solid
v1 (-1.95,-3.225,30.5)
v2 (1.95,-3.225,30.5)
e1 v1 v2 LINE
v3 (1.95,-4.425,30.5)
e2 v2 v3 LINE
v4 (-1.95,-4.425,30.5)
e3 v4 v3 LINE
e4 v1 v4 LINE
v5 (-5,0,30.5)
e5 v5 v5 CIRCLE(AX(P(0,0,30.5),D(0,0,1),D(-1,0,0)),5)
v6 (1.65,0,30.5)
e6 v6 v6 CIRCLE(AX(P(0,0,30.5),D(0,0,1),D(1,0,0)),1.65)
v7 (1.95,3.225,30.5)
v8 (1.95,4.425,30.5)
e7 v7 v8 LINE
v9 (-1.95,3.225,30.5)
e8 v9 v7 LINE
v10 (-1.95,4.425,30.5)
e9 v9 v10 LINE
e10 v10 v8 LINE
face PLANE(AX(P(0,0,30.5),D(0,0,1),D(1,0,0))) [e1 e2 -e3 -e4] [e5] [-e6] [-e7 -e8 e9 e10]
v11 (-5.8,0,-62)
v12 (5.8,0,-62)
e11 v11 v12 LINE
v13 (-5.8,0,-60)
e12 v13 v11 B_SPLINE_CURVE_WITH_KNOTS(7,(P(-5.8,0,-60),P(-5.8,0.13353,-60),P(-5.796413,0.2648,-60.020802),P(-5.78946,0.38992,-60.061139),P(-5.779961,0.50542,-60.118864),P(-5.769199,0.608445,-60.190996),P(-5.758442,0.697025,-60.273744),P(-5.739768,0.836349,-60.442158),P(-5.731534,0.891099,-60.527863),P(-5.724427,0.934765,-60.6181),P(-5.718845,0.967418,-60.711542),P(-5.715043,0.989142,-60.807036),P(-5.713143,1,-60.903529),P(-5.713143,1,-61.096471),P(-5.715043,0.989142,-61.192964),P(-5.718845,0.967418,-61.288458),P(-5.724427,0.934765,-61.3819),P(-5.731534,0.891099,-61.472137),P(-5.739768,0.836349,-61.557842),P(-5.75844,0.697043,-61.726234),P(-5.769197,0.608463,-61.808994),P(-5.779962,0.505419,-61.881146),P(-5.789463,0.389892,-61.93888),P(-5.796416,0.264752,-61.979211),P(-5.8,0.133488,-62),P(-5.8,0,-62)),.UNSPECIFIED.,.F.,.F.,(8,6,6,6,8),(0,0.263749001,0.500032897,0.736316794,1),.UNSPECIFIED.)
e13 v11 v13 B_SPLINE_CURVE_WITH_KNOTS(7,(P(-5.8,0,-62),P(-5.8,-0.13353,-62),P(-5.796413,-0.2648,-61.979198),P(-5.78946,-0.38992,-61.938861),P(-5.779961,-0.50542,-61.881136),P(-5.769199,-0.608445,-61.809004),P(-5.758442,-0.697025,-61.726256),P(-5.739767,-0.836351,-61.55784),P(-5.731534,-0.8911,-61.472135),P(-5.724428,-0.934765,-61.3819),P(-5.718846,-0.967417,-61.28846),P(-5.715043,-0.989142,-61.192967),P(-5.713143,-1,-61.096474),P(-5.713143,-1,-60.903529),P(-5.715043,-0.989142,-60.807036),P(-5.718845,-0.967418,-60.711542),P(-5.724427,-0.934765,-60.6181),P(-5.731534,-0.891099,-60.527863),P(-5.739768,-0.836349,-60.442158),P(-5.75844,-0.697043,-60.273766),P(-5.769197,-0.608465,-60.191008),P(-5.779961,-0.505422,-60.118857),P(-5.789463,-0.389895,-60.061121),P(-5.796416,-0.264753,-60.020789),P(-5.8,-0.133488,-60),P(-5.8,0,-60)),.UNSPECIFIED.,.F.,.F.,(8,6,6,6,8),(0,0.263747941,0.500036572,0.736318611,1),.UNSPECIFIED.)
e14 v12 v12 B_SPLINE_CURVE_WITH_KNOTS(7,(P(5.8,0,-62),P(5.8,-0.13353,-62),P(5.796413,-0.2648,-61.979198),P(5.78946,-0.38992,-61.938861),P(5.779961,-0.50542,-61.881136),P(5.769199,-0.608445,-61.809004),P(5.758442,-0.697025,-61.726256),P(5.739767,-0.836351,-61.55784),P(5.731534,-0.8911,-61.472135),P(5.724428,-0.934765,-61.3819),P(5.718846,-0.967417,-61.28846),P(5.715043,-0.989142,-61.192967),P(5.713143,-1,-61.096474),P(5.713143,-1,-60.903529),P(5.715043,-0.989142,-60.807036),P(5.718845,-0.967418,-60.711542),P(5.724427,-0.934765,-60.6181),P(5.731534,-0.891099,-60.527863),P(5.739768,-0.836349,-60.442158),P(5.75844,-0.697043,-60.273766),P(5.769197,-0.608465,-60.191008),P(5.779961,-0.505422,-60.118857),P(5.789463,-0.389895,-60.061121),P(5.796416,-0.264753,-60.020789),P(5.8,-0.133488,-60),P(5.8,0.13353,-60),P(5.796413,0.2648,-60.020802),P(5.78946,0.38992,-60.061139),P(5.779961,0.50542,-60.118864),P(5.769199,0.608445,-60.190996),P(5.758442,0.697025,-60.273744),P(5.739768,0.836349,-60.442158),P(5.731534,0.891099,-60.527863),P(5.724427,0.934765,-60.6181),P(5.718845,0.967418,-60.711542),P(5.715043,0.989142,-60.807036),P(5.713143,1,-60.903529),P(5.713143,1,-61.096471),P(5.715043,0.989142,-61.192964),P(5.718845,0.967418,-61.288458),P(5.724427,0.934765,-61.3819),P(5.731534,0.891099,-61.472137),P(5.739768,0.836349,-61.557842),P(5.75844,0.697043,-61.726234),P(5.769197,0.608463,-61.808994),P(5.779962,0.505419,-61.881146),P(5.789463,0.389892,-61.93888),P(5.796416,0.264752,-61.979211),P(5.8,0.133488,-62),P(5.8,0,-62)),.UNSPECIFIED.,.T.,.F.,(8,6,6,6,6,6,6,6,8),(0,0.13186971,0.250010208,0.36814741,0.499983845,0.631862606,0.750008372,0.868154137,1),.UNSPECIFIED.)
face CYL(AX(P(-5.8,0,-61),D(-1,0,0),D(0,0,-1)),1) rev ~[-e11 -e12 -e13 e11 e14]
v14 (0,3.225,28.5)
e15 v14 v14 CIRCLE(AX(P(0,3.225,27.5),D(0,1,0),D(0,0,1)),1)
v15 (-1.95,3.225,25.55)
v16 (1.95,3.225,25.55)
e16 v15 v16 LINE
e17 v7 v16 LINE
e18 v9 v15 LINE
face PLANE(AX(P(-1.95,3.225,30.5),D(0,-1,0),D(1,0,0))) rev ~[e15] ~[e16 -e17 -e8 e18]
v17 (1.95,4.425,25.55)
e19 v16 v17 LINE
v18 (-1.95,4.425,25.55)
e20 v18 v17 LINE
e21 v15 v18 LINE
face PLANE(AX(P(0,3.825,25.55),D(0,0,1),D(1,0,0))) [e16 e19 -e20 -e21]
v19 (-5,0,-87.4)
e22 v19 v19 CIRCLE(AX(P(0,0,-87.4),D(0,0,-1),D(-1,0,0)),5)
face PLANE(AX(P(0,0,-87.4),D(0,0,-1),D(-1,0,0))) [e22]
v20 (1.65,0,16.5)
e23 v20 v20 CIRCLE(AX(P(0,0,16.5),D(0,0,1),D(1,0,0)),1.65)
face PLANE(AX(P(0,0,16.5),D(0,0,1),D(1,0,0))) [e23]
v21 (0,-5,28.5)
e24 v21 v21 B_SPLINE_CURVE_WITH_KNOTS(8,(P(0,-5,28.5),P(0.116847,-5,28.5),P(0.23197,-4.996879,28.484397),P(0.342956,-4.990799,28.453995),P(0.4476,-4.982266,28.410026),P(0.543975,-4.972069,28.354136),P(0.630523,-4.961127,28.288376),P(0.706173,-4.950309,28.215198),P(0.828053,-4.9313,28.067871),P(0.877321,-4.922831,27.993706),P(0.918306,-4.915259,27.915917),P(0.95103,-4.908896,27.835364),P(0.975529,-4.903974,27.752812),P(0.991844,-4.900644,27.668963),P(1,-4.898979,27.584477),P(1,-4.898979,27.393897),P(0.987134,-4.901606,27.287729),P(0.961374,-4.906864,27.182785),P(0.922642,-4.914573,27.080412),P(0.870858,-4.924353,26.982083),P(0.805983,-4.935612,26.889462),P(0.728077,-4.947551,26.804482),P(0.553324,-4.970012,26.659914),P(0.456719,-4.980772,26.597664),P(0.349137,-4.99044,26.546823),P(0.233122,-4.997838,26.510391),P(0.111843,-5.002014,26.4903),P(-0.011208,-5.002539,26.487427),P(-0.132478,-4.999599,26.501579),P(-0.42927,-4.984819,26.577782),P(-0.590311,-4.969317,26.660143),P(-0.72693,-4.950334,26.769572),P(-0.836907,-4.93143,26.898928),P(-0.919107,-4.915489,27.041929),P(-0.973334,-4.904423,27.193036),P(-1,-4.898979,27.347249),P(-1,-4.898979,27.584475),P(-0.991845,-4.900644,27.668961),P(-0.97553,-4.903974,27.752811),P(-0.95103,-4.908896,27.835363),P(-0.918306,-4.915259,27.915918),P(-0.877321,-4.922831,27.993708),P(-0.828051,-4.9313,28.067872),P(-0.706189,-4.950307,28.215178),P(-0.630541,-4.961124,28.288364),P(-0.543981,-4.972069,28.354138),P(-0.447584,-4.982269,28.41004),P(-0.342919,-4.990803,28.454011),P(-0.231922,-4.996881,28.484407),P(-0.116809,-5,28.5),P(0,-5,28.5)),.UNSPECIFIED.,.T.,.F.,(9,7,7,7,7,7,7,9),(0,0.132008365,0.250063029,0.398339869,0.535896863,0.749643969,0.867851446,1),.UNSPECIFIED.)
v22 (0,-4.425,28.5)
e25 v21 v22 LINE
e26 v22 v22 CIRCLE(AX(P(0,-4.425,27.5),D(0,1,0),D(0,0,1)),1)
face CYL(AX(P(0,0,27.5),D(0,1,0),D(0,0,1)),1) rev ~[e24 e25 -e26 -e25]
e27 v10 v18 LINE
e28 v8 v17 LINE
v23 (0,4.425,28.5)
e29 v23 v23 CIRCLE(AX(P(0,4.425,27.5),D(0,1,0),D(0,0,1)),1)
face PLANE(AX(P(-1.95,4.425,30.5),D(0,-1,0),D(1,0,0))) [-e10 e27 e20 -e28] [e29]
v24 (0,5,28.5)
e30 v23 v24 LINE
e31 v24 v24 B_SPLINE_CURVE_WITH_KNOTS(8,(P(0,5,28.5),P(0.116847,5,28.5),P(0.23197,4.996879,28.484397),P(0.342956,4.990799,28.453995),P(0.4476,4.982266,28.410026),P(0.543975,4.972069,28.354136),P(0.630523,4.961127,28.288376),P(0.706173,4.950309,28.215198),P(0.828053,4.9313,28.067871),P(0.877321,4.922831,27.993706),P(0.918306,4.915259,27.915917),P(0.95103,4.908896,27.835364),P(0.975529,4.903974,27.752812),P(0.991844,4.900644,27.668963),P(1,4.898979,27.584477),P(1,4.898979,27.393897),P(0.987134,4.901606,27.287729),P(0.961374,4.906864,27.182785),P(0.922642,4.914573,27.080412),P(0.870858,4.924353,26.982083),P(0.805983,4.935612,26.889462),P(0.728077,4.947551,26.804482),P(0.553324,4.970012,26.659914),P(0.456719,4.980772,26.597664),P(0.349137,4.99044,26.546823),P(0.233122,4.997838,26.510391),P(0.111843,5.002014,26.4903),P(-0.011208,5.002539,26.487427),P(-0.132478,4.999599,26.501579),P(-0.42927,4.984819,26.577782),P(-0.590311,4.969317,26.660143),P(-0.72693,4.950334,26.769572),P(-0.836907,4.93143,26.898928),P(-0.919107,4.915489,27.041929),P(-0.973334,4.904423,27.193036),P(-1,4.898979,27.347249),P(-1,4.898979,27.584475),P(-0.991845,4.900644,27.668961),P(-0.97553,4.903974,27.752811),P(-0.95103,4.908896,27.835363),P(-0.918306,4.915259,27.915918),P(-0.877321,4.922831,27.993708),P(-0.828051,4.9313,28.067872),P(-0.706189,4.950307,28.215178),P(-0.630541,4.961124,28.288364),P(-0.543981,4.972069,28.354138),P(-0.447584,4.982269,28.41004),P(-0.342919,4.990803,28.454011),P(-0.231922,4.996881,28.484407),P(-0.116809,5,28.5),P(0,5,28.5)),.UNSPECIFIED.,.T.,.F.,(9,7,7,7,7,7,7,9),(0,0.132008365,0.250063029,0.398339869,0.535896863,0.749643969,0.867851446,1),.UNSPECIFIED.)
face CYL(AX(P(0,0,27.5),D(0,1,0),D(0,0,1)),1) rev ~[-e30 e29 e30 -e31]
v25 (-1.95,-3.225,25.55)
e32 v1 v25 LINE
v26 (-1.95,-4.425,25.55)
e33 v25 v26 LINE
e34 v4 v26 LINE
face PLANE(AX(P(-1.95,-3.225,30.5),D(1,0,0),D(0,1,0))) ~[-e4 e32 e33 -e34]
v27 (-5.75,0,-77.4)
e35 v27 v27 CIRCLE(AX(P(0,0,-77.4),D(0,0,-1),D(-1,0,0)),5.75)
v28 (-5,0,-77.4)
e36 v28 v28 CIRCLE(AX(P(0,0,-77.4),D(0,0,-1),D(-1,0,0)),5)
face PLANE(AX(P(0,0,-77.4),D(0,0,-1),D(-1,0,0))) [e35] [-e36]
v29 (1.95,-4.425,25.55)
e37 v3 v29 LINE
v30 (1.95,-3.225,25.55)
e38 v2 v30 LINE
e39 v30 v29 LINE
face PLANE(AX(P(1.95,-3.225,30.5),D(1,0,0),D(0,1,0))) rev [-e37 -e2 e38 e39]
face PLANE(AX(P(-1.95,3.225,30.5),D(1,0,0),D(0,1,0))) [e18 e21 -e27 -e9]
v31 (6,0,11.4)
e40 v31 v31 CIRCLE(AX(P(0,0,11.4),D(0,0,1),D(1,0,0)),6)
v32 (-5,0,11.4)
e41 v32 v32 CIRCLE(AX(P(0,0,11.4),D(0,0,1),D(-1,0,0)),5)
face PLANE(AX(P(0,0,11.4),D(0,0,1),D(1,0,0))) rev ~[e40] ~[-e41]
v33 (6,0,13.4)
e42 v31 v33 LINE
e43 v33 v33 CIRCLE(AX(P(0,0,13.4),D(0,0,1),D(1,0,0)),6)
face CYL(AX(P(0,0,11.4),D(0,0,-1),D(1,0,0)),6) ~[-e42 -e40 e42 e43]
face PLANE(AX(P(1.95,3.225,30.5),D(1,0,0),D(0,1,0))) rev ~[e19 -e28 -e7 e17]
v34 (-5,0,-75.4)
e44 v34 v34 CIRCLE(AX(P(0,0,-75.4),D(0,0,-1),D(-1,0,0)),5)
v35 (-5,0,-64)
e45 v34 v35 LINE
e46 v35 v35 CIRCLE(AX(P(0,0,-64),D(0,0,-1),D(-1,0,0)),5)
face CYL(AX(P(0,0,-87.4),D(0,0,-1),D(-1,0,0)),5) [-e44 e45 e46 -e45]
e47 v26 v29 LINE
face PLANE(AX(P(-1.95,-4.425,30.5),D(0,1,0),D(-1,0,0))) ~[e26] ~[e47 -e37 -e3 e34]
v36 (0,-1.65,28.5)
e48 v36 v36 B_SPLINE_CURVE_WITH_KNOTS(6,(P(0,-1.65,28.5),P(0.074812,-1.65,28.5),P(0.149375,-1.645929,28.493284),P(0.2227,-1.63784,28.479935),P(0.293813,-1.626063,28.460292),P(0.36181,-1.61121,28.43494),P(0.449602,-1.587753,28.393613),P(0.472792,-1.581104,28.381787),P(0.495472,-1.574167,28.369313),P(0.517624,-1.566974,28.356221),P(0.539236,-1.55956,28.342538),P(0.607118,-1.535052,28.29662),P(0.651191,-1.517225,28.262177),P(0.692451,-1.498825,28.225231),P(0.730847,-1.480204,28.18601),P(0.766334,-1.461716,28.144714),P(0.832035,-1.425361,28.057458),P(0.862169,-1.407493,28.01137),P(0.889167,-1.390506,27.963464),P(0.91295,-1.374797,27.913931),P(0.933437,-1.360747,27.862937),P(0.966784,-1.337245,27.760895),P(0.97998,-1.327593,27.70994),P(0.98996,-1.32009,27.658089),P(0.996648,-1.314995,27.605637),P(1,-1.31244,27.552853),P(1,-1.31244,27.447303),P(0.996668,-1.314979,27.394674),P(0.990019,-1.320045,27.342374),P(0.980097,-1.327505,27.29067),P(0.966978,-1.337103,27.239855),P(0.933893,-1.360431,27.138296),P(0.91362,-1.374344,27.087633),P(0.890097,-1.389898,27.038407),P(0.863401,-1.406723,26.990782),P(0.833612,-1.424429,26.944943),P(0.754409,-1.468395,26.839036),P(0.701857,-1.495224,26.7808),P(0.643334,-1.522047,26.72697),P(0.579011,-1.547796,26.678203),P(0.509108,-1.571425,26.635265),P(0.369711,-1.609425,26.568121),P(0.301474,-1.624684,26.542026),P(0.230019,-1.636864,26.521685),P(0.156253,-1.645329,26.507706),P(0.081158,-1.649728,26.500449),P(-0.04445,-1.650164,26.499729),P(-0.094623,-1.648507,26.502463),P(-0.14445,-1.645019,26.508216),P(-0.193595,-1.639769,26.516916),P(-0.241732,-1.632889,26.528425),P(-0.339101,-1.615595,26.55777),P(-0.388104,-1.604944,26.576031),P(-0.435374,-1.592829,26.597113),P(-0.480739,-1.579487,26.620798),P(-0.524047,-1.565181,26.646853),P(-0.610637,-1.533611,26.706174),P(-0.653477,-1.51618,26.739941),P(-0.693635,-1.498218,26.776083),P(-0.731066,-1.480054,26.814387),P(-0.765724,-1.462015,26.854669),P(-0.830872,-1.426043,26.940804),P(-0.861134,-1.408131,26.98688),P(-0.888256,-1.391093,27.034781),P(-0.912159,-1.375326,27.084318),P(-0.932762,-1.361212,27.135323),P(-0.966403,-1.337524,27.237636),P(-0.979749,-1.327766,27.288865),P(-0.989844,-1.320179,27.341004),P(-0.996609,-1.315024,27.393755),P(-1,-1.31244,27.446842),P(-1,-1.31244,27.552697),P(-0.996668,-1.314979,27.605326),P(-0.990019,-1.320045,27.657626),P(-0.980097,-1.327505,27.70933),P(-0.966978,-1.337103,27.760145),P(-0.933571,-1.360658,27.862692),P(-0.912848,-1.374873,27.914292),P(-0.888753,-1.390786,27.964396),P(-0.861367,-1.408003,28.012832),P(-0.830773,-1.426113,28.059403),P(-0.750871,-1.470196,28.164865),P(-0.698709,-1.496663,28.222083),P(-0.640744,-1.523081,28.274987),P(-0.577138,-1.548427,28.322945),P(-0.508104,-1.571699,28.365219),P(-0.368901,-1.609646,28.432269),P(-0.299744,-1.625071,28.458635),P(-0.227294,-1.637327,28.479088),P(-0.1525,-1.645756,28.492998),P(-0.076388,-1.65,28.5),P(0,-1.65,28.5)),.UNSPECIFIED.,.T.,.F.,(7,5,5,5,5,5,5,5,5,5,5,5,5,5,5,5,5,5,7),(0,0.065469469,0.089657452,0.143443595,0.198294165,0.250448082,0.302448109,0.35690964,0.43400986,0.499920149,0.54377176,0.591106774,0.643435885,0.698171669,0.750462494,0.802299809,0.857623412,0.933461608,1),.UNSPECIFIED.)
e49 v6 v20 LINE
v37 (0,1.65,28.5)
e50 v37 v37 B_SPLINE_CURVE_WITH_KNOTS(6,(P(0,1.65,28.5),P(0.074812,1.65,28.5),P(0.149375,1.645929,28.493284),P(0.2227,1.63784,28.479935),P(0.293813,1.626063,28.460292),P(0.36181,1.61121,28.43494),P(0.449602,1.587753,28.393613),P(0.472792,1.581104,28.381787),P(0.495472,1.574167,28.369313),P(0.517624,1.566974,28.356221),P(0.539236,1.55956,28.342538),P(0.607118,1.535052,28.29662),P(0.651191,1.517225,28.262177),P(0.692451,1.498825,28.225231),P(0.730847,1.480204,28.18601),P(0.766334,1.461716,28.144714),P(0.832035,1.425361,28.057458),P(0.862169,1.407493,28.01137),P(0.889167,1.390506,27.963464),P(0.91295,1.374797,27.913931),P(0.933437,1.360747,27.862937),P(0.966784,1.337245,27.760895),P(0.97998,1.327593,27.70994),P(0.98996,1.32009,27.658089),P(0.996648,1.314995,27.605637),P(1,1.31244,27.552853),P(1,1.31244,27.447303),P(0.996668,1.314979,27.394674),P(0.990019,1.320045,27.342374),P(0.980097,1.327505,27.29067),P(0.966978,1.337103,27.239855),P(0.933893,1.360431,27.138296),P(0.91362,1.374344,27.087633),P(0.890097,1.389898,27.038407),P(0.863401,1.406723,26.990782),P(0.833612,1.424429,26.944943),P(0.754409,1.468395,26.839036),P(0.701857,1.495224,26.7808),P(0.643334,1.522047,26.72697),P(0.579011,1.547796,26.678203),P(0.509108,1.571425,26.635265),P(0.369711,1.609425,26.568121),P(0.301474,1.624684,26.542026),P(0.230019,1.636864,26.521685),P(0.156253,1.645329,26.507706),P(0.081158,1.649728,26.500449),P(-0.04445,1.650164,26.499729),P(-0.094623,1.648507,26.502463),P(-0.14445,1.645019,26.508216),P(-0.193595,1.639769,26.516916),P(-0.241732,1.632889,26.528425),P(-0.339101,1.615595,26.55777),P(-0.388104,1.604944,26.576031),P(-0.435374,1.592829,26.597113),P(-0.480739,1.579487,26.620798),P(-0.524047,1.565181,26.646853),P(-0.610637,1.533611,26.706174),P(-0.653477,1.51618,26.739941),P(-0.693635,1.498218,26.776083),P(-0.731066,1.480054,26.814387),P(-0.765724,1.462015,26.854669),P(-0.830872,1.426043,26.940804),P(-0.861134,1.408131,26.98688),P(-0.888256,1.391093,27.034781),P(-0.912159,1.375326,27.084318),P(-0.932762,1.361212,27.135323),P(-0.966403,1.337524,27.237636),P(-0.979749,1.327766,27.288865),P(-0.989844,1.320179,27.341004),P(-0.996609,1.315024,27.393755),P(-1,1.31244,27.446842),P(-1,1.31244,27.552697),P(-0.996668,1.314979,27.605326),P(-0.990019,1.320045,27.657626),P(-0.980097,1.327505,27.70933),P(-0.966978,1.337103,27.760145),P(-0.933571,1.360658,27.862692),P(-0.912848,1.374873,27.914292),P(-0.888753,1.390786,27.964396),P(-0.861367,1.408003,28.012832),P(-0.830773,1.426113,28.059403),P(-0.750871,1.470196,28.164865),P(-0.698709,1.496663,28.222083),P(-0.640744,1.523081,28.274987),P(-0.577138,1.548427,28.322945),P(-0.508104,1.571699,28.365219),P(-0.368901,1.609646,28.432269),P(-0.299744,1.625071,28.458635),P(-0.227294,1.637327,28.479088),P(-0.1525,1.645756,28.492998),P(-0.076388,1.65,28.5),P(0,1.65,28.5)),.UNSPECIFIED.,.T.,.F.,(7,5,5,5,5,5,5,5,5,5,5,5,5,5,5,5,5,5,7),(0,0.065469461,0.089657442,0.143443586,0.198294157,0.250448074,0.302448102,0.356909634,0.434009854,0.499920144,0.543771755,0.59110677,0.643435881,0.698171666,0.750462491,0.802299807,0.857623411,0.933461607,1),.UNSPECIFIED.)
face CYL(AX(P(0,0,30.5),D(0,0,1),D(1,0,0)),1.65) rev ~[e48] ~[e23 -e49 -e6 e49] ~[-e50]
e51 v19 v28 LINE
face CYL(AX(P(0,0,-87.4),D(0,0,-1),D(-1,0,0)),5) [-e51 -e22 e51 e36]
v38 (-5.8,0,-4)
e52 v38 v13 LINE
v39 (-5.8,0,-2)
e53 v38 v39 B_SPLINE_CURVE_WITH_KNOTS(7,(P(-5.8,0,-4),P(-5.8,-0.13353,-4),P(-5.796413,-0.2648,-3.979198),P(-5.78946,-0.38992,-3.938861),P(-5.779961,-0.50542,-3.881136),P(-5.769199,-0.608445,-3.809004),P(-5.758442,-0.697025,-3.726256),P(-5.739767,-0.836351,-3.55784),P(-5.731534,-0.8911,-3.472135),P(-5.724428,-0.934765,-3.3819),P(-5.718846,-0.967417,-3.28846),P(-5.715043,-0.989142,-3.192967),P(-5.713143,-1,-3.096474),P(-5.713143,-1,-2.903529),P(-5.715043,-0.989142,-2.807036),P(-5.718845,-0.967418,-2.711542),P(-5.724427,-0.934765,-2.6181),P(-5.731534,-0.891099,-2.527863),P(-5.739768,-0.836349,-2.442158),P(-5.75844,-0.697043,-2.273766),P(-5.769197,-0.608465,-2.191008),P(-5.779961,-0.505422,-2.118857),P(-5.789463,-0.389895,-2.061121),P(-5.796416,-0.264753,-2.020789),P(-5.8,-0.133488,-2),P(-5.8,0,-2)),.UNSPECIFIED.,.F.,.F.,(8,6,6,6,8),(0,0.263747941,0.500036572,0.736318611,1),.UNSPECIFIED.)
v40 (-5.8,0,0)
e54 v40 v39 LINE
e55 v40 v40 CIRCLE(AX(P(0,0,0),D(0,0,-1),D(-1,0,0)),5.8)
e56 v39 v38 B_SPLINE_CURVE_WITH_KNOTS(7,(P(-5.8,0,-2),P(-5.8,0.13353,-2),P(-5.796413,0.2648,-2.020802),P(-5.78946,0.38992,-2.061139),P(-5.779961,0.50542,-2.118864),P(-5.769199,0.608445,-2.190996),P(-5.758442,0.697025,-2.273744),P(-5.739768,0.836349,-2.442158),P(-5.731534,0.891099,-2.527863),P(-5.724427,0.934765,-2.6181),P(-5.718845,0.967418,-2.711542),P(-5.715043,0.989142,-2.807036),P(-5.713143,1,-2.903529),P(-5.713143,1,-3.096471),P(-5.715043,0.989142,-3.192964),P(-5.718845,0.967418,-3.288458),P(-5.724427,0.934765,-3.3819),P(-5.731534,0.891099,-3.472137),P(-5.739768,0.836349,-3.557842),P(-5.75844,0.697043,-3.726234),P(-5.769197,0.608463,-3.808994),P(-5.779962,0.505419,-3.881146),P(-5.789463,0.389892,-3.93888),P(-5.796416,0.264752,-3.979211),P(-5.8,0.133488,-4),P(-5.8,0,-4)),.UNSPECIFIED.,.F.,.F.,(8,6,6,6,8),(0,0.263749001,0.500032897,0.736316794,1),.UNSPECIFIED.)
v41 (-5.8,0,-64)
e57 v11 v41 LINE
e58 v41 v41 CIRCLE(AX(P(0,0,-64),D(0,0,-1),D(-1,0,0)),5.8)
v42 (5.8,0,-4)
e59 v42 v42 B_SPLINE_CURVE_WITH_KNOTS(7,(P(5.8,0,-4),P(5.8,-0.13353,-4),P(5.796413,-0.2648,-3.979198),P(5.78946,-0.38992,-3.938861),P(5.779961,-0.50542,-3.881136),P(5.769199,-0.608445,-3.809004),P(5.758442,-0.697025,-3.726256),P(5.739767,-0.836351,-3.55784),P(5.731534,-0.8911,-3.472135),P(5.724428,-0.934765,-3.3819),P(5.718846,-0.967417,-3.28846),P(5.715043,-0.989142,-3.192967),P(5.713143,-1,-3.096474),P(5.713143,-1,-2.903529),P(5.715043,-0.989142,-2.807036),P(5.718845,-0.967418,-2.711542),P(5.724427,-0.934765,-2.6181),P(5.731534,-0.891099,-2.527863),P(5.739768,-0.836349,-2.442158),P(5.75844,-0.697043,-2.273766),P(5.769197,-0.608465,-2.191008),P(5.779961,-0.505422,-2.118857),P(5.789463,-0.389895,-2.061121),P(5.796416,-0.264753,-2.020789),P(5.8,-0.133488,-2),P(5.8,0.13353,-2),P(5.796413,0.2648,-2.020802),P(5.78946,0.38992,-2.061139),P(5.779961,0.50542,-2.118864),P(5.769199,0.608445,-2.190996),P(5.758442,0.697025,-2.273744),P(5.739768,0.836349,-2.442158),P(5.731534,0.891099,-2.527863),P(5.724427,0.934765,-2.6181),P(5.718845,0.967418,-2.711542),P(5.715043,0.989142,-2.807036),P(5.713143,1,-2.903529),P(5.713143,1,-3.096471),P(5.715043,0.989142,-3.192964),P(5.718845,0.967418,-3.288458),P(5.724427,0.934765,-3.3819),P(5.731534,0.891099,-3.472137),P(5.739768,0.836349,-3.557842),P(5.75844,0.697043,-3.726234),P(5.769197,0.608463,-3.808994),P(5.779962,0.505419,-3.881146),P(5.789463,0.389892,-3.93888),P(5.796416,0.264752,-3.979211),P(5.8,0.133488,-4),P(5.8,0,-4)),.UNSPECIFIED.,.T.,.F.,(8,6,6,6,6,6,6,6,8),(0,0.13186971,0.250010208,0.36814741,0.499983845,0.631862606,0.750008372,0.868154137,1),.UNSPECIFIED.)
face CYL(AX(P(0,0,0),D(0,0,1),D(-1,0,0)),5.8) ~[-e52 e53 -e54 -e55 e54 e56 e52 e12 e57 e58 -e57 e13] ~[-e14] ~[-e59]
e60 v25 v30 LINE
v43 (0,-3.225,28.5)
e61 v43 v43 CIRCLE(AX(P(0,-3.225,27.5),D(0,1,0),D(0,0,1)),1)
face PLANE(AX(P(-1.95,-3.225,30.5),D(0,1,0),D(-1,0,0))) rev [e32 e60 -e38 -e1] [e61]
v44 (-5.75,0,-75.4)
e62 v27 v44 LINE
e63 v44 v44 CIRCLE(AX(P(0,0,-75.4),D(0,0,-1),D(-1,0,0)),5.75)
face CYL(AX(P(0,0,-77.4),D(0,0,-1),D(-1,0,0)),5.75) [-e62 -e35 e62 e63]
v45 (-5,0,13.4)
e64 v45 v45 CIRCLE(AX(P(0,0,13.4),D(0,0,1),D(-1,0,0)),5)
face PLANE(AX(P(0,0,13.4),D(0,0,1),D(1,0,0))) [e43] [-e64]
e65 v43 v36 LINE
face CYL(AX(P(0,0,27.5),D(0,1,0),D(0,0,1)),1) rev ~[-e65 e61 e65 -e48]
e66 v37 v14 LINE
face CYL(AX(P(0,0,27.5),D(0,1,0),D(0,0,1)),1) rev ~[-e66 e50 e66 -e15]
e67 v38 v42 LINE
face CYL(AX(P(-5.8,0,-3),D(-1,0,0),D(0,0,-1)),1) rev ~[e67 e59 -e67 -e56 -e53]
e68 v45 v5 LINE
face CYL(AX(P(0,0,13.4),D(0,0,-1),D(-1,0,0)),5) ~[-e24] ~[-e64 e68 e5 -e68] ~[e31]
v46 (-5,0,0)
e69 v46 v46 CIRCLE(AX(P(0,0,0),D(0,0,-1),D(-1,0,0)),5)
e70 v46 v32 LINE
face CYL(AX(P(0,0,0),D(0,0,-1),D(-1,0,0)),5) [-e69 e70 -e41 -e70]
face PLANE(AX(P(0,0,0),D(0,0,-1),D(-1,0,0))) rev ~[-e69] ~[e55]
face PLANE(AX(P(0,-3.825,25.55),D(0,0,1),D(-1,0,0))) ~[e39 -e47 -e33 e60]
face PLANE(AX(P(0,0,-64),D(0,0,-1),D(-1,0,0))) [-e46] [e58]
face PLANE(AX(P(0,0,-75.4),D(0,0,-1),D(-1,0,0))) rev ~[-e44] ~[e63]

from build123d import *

# Parameters (mm, degrees)
SKETCH1_R           = 6
BOSS_EXTRUDE1_DEPTH = 30.5
SKETCH2_R           = 1.65
CUT_EXTRUDE1_DEPTH  = 14
SKETCH13_W          = 3.9
SKETCH13_H          = 1.2
CUT_EXTRUDE6_DEPTH  = 4.95
SKETCH4_R           = 1
CUT_EXTRUDE7_DEPTH  = 7.5
SKETCH19_R          = 6
SKETCH19_R_2        = 5
CUT_EXTRUDE8_DEPTH  = 45
SKETCH21_R          = 5.8
BOSS_EXTRUDE2_DEPTH = 64
BOSS_EXTRUDE3_START = 13.4
SKETCH22_R          = 5
BOSS_EXTRUDE3_DEPTH = 13.4
BOSS_EXTRUDE5_START = 10
SKETCH24_R          = 5
BOSS_EXTRUDE5_DEPTH = 10
BOSS_EXTRUDE6_START = -19.1
SKETCH25_R          = 6
SKETCH25_R_2        = 5
BOSS_EXTRUDE6_DEPTH = 19.1
CUT_EXTRUDE9_START  = -17.1
SKETCH26_R          = 6
SKETCH26_R_2        = 5
CUT_EXTRUDE9_DEPTH  = 17.1
SKETCH28_R          = 1
CUT_EXTRUDE11_DEPTH = 17
SKETCH23_R          = 5.75
BOSS_EXTRUDE7_DEPTH = 2


with BuildPart() as part:
    # Sketch1 → Boss-Extrude1 (new body)
    with BuildSketch(Plane.XY):
        with Locations(Location((0, 0, 0), (0, 0, 180))):
            Circle(SKETCH1_R)
    extrude(amount=BOSS_EXTRUDE1_DEPTH)

    # Sketch2 → Cut-Extrude1 (cut)
    with BuildSketch(Plane.XY.offset(30.5)):
        Circle(SKETCH2_R)
    extrude(amount=-CUT_EXTRUDE1_DEPTH, mode=Mode.SUBTRACT)

    # Sketch13 → Cut-Extrude6 (cut)
    with BuildSketch(Plane.XY.offset(30.5)):
        with Locations((0, 3.825)):
            Rectangle(SKETCH13_W, SKETCH13_H)
    cut_extrude6 = extrude(amount=-CUT_EXTRUDE6_DEPTH, mode=Mode.SUBTRACT)

    # Sketch4 → Cut-Extrude7 (cut, symmetric)
    with BuildSketch(Plane(origin=(0, 0, 0), x_dir=(1, 0, 0), z_dir=(0, 1, 0))):
        with Locations(Location((0, -27.5, 0), (0, 0, 270))):
            Circle(SKETCH4_R)
    extrude(amount=CUT_EXTRUDE7_DEPTH, both=True, mode=Mode.SUBTRACT)

    # Mirror1: Cut-Extrude6 across plane
    add(cut_extrude6.mirror(Plane.ZX), mode=Mode.SUBTRACT)

    # Sketch19 → Cut-Extrude8 (cut)
    with BuildSketch(Plane(origin=(0, 0, 0), x_dir=(-1, 0, 0), z_dir=(0, 0, -1))):
        Circle(SKETCH19_R)
        Circle(SKETCH19_R_2, mode=Mode.SUBTRACT)
    extrude(amount=-CUT_EXTRUDE8_DEPTH, mode=Mode.SUBTRACT)

    # Sketch21 → Boss-Extrude2 (add)
    with BuildSketch(Plane(origin=(0, 0, 0), x_dir=(-1, 0, 0), z_dir=(0, 0, -1))):
        Circle(SKETCH21_R)
    extrude(amount=BOSS_EXTRUDE2_DEPTH)

    # Sketch22 → Boss-Extrude3 (add)
    with BuildSketch(Plane(origin=(0, 0, -64), x_dir=(-1, 0, 0), z_dir=(0, 0, -1)).offset(BOSS_EXTRUDE3_START)):
        Circle(SKETCH22_R)
    extrude(amount=-BOSS_EXTRUDE3_DEPTH)

    # Sketch24 → Boss-Extrude5 (add)
    with BuildSketch(Plane(origin=(0, 0, -77.4), x_dir=(-1, 0, 0), z_dir=(0, 0, -1)).offset(BOSS_EXTRUDE5_START)):
        Circle(SKETCH24_R)
    extrude(amount=-BOSS_EXTRUDE5_DEPTH)

    # Sketch25 → Boss-Extrude6 (add)
    with BuildSketch(Plane.XY.offset(30.5).offset(BOSS_EXTRUDE6_START)):
        Circle(SKETCH25_R)
        with Locations(Location((0, 0, 0), (0, 0, 180))):
            Circle(SKETCH25_R_2, mode=Mode.SUBTRACT)
    extrude(amount=BOSS_EXTRUDE6_DEPTH)

    # Sketch26 → Cut-Extrude9 (cut)
    with BuildSketch(Plane.XY.offset(30.5).offset(CUT_EXTRUDE9_START)):
        Circle(SKETCH26_R)
        with Locations(Location((0, 0, 0), (0, 0, 180))):
            Circle(SKETCH26_R_2, mode=Mode.SUBTRACT)
    extrude(amount=CUT_EXTRUDE9_DEPTH, mode=Mode.SUBTRACT)

    # Sketch28 → Cut-Extrude11 (cut)
    with BuildSketch(Plane.ZY.offset(5.8)):
        with Locations(Location((-61, 0, 0), (0, 0, 180))):
            Circle(SKETCH28_R)
        with Locations(Location((-3, 0, 0), (0, 0, 180))):
            Circle(SKETCH28_R)
    extrude(amount=-CUT_EXTRUDE11_DEPTH, mode=Mode.SUBTRACT)

    # Sketch23 → Boss-Extrude7 (add)
    with BuildSketch(Plane(origin=(0, 0, -77.4), x_dir=(-1, 0, 0), z_dir=(0, 0, -1))):
        Circle(SKETCH23_R)
    extrude(amount=-BOSS_EXTRUDE7_DEPTH)


solid = part.part
